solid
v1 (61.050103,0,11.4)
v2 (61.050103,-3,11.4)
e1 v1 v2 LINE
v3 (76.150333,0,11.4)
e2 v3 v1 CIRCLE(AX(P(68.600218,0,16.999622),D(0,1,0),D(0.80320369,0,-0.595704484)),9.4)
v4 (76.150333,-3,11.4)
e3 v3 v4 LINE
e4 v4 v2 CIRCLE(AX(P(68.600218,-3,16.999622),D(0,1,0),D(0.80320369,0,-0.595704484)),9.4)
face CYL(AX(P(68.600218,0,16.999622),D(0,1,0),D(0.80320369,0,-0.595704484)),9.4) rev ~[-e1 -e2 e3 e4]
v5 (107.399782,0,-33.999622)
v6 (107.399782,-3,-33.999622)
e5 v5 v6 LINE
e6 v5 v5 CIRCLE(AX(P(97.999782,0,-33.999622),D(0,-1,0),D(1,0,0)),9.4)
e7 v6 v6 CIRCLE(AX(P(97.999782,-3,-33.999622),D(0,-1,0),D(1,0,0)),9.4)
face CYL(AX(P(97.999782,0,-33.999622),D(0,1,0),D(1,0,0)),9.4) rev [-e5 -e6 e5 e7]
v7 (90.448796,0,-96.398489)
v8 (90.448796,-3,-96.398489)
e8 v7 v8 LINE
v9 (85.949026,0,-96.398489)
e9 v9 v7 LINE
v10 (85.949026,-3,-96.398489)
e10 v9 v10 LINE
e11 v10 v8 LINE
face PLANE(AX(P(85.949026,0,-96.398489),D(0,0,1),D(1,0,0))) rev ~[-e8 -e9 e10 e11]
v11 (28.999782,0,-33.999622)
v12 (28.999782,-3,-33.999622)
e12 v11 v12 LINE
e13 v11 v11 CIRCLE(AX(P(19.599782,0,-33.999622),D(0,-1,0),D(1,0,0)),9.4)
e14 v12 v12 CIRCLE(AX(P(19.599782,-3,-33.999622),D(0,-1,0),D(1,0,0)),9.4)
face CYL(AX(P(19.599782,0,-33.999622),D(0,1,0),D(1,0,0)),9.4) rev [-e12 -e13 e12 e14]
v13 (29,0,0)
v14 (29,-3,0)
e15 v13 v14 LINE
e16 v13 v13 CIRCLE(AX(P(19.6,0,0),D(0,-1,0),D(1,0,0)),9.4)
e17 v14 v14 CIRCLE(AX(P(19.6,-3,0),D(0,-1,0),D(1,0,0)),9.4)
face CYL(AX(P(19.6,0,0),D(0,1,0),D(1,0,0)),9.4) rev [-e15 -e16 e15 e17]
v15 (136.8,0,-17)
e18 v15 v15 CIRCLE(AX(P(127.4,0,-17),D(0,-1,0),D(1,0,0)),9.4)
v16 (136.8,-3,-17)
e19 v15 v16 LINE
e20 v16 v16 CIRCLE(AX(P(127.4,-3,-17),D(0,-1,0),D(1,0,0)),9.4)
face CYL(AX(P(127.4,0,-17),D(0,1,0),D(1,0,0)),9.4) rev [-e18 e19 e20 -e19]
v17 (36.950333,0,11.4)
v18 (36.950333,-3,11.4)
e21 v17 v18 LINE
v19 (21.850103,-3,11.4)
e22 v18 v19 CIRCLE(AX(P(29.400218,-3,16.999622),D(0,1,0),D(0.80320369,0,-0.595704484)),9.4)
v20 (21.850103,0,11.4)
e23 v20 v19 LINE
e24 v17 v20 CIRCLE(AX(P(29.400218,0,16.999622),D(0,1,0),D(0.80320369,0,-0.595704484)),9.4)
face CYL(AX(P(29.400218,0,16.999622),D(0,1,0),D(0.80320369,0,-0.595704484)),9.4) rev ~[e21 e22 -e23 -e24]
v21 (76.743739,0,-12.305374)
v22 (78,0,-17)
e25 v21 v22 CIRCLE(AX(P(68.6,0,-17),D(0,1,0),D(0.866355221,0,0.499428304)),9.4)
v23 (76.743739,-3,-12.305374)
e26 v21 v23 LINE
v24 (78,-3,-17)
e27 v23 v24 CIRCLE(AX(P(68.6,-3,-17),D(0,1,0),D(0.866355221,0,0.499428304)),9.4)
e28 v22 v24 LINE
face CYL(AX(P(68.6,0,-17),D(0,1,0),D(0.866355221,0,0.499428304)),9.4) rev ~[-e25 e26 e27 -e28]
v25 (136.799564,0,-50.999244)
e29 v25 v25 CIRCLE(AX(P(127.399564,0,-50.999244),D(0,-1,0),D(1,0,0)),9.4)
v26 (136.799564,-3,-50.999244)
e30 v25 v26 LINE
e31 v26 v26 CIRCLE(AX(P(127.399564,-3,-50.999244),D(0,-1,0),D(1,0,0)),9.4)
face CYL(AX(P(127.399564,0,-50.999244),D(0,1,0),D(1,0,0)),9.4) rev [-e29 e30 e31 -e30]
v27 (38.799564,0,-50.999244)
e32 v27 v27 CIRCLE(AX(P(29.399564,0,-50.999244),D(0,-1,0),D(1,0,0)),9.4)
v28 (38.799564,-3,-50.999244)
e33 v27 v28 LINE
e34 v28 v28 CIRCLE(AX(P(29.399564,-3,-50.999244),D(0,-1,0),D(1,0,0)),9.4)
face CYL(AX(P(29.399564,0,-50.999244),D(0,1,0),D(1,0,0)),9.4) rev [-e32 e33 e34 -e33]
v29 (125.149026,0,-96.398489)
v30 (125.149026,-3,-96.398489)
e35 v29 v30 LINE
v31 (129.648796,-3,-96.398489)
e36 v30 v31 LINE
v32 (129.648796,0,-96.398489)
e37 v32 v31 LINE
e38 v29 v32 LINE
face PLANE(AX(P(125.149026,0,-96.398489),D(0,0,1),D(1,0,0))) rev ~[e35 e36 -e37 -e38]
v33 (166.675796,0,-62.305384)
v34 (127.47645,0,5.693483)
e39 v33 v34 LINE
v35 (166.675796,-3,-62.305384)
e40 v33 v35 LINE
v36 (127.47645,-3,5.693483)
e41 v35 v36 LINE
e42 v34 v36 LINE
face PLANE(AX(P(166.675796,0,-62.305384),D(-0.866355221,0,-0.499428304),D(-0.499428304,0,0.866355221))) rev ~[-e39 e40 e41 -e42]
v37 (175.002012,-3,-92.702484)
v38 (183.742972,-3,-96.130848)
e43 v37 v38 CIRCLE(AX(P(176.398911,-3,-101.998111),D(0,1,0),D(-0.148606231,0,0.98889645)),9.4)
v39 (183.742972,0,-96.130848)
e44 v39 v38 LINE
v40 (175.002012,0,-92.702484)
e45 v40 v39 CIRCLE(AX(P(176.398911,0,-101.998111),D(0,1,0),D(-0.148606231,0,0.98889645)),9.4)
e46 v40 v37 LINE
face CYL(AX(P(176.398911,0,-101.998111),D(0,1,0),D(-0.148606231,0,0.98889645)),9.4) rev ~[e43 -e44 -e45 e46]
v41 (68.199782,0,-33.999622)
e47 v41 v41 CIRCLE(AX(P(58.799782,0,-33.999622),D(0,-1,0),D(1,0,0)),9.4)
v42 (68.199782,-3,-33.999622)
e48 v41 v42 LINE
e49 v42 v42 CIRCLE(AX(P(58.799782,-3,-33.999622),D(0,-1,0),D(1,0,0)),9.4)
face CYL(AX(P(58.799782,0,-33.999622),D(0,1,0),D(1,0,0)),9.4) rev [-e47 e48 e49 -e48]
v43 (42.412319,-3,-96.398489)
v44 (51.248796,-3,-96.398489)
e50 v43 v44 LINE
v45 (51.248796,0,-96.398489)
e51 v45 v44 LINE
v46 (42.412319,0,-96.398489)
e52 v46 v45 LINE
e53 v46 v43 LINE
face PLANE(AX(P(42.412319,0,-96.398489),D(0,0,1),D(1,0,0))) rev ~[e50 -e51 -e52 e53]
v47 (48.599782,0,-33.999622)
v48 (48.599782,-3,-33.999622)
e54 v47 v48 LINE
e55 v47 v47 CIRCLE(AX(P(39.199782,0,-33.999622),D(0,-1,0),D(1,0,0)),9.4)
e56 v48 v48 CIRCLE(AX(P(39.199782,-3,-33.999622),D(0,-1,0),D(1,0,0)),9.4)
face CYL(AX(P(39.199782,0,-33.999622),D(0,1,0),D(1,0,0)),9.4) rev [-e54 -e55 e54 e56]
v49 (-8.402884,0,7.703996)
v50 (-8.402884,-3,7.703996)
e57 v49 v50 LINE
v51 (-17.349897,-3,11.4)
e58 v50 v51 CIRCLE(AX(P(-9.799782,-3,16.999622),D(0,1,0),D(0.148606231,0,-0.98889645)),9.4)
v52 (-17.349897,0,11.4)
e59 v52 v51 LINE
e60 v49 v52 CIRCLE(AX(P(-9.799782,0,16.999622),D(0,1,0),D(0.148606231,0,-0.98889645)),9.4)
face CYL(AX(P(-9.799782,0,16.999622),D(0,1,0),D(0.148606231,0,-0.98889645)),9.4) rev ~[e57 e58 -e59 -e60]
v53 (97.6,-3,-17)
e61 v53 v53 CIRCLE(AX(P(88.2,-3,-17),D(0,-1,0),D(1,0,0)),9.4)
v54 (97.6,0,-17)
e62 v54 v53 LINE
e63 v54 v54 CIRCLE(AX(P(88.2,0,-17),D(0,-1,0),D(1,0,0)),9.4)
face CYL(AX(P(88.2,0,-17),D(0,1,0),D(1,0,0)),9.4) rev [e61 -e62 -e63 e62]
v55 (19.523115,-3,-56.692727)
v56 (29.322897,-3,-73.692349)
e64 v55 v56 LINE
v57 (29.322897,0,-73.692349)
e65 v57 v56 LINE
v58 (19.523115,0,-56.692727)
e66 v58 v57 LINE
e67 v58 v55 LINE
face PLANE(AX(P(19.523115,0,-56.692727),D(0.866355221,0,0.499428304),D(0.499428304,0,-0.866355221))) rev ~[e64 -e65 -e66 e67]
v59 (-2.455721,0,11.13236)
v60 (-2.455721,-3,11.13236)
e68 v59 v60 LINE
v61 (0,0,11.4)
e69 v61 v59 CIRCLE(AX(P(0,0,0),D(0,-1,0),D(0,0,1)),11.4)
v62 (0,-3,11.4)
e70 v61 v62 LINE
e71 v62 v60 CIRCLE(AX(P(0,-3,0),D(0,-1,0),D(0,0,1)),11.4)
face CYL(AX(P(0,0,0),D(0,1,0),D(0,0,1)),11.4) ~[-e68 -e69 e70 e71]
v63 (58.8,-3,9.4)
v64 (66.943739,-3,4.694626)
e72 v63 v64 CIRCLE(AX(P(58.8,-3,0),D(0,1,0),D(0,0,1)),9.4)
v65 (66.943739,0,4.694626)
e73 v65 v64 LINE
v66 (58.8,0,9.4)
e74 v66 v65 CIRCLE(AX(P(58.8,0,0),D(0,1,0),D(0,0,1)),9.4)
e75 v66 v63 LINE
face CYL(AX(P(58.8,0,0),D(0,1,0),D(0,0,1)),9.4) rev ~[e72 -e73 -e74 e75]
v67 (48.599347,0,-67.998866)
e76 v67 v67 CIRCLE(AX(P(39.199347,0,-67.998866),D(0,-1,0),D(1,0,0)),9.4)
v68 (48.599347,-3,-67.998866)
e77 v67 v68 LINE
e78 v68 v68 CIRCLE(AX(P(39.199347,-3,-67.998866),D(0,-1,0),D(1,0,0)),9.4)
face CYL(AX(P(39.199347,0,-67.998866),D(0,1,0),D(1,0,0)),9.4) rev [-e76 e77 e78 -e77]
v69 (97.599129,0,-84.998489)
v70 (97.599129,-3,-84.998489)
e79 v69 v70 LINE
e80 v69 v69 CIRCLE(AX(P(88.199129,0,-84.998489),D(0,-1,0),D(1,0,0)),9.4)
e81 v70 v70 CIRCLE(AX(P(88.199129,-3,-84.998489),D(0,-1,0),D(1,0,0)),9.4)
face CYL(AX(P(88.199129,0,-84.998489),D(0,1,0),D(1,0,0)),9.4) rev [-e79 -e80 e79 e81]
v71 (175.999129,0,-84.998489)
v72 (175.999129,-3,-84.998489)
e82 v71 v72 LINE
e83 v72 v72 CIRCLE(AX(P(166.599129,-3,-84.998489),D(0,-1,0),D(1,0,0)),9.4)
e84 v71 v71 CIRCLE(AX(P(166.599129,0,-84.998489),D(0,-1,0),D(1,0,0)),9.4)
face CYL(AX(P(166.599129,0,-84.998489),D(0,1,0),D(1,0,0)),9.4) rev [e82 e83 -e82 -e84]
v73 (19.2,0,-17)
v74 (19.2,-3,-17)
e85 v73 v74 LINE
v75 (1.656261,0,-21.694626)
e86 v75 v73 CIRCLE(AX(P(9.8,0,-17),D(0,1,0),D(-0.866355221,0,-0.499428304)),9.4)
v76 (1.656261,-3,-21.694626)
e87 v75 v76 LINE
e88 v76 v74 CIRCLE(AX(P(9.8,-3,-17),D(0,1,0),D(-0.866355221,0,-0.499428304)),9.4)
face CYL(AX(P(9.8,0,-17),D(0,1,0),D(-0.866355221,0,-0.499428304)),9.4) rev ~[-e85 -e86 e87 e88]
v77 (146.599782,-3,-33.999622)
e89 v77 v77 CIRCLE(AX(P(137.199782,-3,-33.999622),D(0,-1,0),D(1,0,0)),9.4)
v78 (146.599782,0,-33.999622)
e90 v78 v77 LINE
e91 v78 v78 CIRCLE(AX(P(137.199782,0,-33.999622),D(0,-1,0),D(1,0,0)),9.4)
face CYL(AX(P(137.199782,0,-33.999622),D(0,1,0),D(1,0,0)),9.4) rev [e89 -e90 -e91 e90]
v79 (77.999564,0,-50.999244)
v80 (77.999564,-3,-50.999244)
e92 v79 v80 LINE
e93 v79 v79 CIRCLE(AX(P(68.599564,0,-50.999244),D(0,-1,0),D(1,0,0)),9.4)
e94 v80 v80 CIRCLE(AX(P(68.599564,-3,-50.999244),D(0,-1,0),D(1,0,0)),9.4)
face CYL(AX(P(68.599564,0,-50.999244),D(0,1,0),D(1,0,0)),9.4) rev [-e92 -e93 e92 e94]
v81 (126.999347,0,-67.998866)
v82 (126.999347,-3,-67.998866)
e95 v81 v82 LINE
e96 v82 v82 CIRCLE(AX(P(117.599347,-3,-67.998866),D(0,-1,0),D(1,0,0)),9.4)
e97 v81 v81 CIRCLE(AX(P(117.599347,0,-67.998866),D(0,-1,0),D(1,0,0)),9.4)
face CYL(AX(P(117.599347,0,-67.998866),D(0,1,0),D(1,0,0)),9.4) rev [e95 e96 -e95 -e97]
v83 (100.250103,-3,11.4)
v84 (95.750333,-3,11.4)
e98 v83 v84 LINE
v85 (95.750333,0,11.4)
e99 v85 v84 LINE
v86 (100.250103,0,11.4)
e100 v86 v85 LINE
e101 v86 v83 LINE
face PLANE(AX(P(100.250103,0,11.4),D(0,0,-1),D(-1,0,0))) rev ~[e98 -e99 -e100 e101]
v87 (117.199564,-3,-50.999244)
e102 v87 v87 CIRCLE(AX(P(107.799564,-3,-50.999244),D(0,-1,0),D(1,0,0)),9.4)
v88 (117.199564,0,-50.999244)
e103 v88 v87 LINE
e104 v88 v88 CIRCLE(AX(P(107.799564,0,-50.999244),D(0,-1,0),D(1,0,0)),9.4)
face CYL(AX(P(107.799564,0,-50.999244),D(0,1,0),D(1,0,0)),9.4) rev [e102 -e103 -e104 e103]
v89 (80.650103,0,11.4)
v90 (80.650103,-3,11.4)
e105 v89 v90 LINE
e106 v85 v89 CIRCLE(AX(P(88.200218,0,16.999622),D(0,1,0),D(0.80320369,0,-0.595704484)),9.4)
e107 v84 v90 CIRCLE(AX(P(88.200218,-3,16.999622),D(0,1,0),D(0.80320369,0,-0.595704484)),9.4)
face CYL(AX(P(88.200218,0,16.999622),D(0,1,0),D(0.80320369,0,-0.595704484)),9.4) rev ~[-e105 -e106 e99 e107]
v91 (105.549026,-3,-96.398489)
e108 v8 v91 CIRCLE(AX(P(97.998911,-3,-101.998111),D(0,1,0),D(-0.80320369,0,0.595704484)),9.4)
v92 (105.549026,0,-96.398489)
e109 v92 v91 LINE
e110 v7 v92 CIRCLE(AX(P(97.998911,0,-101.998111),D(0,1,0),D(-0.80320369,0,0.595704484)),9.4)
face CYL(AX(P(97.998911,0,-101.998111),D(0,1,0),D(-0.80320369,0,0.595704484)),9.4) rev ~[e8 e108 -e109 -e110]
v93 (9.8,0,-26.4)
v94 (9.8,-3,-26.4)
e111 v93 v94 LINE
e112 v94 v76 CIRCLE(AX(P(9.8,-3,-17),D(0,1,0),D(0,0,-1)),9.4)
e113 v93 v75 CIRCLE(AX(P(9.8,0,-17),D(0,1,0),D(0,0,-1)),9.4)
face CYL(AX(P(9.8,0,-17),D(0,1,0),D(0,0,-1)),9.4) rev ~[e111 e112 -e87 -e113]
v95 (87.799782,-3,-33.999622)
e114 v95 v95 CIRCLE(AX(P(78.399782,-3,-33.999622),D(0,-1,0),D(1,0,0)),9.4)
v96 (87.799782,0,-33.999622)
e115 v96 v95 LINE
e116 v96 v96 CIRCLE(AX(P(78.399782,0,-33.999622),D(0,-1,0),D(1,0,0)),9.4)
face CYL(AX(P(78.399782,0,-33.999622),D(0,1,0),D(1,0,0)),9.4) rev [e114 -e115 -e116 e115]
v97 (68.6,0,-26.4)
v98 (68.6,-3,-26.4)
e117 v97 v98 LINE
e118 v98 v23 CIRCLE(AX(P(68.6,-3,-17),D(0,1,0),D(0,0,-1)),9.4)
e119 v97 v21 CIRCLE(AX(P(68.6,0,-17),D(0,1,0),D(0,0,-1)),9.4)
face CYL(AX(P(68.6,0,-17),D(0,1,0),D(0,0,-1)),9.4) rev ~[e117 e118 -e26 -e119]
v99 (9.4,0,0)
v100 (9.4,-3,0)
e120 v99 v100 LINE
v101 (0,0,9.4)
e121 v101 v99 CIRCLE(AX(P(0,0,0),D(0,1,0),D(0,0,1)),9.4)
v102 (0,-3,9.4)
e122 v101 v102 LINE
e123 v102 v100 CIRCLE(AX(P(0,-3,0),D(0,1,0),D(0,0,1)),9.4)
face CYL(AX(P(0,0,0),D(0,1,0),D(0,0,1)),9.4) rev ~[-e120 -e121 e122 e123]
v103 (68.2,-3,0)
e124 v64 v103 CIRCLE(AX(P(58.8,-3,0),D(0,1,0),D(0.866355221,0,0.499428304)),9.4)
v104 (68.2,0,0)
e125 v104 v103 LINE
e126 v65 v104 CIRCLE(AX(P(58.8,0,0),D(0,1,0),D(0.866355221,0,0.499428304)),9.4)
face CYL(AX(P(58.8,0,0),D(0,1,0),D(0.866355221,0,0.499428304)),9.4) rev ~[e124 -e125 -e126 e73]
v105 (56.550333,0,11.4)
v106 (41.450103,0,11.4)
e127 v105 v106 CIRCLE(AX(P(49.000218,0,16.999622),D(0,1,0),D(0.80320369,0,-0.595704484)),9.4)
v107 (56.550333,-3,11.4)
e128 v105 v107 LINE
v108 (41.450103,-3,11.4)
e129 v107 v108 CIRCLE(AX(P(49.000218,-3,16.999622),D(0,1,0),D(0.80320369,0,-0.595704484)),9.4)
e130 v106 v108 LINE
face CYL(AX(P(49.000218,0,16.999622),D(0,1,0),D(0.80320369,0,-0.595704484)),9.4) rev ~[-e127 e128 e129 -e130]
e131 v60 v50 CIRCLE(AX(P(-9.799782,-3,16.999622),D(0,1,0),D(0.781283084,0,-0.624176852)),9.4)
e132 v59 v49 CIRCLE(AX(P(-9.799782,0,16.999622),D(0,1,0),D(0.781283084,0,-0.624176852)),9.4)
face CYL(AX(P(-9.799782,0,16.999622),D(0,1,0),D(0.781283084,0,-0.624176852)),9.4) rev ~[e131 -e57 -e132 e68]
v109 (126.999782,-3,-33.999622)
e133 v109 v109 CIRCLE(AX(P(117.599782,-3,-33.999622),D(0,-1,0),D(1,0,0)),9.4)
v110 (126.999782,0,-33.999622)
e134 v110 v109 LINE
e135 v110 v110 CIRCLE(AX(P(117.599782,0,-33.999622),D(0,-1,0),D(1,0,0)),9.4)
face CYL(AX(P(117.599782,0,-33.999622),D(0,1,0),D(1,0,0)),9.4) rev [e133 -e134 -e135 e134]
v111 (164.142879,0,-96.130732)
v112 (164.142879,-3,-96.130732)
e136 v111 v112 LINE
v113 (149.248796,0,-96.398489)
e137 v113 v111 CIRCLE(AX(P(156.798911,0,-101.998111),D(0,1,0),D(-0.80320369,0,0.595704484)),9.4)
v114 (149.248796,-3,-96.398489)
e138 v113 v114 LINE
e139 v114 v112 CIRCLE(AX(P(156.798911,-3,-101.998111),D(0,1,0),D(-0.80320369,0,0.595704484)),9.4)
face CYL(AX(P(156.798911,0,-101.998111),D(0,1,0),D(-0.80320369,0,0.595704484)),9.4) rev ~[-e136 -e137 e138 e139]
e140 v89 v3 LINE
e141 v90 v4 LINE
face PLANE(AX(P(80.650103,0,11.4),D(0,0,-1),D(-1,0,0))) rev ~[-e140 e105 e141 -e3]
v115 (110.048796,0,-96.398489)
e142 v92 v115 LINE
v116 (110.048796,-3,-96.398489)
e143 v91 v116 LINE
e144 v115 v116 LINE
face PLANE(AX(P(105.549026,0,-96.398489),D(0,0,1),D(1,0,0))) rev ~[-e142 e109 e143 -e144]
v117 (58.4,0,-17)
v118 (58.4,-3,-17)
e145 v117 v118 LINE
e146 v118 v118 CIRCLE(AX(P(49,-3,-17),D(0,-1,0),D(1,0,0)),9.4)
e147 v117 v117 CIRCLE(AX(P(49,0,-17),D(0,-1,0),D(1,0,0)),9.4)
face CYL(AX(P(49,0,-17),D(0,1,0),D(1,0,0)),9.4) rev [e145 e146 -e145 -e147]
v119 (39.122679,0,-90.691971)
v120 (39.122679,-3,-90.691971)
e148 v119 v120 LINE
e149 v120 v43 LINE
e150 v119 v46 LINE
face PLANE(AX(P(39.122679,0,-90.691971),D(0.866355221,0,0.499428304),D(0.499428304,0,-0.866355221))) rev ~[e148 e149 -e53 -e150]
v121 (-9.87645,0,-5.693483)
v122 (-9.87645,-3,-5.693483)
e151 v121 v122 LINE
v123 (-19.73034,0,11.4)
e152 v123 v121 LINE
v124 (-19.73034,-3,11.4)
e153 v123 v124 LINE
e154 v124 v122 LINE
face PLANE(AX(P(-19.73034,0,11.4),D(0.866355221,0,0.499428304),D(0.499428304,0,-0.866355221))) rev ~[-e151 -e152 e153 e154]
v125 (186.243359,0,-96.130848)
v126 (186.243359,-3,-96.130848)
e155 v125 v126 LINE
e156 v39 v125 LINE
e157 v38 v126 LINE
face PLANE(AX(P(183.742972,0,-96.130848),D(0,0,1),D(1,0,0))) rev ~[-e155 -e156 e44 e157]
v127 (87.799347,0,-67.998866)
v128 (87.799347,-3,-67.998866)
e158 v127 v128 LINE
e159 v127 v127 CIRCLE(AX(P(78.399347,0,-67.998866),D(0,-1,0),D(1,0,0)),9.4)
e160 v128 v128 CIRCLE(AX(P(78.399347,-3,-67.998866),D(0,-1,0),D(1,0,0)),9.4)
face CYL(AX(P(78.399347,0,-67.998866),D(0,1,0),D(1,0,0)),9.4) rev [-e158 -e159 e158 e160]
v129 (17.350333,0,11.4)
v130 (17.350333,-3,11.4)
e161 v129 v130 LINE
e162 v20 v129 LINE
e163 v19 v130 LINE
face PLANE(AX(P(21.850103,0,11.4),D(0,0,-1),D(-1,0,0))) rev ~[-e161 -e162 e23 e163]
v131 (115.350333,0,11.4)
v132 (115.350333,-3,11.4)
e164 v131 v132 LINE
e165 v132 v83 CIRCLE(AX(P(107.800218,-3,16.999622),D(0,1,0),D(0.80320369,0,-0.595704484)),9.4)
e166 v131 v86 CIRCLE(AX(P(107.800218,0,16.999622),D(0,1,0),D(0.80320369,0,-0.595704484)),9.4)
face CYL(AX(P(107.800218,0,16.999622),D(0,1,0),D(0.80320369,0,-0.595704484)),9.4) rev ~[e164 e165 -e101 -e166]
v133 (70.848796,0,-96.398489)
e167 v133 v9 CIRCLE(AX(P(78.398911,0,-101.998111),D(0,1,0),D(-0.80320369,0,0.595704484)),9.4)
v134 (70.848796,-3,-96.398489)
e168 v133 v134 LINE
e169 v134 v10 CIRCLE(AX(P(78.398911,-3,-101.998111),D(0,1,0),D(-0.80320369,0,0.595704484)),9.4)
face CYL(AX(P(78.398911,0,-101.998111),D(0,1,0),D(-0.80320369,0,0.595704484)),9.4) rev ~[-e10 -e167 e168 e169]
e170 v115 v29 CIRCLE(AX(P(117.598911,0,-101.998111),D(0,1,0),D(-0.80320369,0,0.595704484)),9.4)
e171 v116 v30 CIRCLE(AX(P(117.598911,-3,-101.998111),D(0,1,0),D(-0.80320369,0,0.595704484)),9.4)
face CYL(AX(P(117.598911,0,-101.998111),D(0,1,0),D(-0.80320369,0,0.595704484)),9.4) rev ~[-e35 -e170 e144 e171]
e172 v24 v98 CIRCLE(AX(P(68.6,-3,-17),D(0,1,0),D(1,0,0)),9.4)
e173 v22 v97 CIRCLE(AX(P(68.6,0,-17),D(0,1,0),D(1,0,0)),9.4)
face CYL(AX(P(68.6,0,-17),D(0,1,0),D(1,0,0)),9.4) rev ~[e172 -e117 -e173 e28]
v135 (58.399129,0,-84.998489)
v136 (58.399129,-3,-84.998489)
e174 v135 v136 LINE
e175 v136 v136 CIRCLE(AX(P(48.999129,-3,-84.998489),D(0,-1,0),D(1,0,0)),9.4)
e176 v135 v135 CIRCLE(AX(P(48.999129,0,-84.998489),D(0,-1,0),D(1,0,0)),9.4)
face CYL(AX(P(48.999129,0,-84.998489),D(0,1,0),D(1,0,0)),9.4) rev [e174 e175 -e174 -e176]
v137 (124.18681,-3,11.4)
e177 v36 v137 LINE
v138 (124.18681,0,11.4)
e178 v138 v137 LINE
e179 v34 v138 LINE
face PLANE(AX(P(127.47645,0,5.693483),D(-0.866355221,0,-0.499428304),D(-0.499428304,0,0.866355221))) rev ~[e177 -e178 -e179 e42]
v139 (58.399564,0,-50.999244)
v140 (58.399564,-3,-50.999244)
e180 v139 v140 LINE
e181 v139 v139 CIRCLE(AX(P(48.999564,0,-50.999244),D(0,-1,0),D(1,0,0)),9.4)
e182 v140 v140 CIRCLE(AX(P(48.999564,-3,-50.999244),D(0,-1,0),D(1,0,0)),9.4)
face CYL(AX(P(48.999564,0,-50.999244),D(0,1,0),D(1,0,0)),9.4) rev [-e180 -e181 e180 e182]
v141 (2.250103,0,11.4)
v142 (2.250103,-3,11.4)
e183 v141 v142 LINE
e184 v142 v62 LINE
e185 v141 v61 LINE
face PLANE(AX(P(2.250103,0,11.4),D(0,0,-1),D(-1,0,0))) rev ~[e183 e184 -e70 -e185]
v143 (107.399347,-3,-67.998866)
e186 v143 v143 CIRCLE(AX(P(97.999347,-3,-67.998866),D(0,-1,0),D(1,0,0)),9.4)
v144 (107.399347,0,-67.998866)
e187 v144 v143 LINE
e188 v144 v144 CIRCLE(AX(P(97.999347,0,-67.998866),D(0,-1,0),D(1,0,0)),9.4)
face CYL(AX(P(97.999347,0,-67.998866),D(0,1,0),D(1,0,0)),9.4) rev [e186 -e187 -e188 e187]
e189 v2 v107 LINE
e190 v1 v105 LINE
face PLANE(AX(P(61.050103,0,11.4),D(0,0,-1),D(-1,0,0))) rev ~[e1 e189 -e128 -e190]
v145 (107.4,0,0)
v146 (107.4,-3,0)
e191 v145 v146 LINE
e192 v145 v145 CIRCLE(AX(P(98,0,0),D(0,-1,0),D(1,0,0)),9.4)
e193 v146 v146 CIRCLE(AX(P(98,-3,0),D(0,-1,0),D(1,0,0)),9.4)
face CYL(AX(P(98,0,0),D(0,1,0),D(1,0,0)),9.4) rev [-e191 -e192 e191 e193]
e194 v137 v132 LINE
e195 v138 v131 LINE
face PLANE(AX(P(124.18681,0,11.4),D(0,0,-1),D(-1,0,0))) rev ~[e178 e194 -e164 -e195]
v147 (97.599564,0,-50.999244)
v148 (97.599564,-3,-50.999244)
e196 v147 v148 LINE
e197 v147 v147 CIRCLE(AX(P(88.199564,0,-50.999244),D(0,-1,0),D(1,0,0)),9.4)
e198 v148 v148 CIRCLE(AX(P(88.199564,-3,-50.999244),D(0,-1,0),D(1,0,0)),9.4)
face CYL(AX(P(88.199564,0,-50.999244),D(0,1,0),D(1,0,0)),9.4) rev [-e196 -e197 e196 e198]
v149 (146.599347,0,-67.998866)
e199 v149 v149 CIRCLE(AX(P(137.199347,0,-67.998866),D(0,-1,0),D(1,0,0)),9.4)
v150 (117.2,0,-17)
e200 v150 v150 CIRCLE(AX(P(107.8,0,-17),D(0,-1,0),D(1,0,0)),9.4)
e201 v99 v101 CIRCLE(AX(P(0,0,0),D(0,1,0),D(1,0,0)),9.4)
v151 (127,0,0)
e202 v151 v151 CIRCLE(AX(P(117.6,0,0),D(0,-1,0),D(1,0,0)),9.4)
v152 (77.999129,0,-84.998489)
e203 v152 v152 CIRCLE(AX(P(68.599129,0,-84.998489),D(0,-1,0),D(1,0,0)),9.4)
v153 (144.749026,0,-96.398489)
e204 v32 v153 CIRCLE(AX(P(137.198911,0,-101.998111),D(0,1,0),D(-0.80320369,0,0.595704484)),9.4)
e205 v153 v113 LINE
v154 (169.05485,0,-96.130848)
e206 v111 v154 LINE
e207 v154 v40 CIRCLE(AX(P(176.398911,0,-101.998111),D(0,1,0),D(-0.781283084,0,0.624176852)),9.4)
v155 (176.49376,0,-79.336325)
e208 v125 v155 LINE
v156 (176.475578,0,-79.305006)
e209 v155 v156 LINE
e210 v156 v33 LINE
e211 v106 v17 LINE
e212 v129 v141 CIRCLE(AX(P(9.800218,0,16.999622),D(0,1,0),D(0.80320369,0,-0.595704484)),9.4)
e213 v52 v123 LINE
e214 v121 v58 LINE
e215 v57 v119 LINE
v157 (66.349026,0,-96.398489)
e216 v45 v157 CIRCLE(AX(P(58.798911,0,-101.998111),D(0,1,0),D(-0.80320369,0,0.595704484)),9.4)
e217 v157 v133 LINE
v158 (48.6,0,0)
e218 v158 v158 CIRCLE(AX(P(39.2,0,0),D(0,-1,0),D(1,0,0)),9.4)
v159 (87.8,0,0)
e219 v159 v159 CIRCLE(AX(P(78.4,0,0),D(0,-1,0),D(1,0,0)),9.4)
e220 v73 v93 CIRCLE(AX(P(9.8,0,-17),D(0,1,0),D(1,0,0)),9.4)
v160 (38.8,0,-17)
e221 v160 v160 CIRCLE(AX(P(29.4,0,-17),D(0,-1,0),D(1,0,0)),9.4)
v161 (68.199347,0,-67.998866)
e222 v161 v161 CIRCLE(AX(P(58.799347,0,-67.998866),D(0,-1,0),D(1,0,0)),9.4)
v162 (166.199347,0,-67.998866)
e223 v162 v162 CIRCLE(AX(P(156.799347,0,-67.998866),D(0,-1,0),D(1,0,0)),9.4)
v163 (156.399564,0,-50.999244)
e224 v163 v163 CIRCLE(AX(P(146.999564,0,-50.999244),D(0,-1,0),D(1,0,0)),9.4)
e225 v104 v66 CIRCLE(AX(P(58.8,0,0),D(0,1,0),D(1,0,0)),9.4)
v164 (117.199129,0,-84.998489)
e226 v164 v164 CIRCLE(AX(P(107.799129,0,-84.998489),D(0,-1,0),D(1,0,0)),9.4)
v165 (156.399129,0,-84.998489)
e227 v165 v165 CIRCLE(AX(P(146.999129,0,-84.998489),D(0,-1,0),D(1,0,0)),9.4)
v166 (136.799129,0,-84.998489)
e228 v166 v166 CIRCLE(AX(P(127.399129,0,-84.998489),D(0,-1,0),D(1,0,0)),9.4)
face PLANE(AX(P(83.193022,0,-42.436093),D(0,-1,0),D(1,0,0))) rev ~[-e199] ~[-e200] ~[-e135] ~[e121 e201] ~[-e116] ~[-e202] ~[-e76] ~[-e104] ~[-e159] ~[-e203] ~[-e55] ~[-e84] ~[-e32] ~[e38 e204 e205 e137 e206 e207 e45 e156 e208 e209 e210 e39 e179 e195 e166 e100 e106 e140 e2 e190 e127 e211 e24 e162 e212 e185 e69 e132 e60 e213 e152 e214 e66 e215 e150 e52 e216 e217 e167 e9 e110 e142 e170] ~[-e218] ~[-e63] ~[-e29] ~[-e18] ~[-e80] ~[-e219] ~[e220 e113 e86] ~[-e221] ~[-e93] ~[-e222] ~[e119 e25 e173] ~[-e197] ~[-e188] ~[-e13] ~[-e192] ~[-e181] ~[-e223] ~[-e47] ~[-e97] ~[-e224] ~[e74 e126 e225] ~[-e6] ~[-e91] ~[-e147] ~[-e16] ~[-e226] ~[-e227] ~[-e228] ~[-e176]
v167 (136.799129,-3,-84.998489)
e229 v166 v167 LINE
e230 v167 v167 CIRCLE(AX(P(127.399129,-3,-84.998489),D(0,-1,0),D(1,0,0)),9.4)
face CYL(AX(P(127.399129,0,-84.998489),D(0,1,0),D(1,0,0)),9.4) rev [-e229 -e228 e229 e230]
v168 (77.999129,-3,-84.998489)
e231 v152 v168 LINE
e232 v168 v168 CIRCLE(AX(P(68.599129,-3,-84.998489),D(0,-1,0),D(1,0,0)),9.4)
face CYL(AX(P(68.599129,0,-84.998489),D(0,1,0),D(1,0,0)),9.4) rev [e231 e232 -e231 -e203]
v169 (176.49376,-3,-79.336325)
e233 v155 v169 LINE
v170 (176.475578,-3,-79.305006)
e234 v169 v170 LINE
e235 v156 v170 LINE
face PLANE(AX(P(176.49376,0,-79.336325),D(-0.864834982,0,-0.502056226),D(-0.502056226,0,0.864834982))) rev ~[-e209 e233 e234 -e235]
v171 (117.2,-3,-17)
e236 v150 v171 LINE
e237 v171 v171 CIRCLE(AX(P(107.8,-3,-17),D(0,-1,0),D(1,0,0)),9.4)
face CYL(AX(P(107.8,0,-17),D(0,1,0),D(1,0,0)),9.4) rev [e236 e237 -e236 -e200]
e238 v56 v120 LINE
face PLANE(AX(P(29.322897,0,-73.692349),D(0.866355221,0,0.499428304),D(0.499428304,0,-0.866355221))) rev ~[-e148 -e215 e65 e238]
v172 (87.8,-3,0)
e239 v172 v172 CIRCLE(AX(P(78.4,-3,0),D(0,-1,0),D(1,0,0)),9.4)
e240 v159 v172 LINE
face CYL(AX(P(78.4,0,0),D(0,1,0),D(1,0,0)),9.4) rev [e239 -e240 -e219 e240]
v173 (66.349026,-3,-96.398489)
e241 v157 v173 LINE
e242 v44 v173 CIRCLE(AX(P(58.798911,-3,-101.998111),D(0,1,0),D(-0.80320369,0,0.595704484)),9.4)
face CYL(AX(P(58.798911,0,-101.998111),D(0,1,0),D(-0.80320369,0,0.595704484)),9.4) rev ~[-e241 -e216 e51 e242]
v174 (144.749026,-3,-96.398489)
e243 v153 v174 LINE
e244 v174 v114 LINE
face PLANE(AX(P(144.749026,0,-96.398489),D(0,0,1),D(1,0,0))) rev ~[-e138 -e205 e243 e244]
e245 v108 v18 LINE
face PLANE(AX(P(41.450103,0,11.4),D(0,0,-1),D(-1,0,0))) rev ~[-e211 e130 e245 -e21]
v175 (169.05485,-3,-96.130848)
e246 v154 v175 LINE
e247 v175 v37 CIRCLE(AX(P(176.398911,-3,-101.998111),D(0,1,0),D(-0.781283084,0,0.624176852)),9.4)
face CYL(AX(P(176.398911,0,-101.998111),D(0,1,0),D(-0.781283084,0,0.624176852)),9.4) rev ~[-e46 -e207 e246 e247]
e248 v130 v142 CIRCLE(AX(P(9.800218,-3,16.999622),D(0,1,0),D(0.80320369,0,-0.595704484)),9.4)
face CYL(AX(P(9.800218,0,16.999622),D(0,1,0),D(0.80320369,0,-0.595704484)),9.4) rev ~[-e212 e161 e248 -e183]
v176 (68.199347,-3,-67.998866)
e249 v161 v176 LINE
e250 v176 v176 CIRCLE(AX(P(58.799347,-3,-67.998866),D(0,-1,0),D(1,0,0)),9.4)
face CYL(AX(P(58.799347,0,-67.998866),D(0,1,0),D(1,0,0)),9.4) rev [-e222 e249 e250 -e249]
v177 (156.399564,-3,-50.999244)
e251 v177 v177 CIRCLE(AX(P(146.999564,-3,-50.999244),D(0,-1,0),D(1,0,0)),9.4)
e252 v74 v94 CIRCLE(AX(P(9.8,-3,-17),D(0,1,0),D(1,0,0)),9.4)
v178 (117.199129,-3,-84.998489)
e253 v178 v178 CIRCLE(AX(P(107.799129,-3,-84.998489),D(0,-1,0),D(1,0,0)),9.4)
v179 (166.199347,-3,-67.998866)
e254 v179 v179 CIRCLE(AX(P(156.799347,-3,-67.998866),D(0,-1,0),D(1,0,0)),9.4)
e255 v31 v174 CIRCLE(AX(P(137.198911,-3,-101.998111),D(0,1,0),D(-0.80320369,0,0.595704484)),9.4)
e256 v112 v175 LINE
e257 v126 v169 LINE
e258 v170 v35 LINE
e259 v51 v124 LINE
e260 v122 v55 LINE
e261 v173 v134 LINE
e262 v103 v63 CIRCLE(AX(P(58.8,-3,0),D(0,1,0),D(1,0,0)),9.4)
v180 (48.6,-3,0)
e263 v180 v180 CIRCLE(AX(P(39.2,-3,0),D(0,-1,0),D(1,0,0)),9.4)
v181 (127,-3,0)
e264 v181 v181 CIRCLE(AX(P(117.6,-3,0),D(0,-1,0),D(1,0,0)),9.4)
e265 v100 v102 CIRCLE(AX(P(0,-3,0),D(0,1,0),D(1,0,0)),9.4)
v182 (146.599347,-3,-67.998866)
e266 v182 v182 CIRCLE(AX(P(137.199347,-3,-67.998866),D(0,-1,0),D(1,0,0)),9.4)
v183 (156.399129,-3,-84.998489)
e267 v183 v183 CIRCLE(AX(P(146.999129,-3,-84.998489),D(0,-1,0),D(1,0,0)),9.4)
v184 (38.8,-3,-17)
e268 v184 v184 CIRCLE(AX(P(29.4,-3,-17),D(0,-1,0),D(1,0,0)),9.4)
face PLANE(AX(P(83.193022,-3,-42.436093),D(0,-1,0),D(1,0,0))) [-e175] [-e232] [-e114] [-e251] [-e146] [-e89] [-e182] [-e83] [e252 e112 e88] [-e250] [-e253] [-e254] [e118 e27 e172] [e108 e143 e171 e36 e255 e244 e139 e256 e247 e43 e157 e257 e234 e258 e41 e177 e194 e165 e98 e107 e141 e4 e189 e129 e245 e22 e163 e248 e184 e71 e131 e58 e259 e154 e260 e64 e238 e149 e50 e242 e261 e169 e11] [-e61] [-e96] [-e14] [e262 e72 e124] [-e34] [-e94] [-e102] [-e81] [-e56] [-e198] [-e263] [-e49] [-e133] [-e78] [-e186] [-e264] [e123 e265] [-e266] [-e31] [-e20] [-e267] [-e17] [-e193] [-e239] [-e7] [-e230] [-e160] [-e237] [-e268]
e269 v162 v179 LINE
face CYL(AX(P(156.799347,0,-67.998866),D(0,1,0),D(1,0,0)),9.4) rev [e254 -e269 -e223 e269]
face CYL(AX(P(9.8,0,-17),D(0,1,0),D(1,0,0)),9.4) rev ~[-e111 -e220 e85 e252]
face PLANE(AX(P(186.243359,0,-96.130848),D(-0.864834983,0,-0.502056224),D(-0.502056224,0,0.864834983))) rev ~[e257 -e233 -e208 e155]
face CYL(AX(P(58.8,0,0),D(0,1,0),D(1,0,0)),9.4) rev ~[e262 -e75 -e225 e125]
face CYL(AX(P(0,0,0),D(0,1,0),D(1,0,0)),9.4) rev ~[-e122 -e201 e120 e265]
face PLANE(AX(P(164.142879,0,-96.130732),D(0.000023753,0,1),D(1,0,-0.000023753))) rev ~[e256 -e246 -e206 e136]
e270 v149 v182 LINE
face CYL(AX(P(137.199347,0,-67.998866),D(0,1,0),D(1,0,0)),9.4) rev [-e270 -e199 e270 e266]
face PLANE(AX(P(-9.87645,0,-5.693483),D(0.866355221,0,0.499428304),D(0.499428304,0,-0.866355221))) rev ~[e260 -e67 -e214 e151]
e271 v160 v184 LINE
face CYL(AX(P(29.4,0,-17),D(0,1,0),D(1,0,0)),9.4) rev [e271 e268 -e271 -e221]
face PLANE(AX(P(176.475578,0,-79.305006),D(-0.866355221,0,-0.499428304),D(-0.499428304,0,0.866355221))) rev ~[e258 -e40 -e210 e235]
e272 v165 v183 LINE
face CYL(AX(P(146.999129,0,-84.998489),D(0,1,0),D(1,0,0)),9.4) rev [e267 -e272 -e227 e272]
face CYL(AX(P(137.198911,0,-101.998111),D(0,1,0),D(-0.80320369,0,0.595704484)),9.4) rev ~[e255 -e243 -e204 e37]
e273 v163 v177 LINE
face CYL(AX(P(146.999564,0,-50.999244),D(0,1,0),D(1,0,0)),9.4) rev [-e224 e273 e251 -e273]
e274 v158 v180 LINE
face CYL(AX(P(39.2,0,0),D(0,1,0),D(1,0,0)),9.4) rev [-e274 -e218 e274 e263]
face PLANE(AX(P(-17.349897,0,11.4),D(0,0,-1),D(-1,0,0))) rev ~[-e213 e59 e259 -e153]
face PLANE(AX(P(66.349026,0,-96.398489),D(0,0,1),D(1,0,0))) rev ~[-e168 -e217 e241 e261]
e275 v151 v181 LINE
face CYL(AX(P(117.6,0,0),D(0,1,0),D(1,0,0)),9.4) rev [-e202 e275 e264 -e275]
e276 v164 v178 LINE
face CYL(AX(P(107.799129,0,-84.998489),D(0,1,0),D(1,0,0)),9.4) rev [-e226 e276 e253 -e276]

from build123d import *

# Parameters (mm, degrees)
F0_R     = 9.4
F1_DEPTH = 3


with BuildPart() as f1:
    # F0 (on Front) → F1 (new body)
    with BuildSketch(Plane.XZ):
        with BuildLine():
            Line((2.2501031329, 11.4), (0, 11.4))
            ThreePointArc((0, 11.4), (-1.2351313555, 11.332892417), (-2.4557211882, 11.1323597429))
            ThreePointArc((-2.4557211882, 11.1323597429), (-5.105156123, 8.8558830706), (-8.4028836117, 7.7039955223))
            ThreePointArc((-8.4028836117, 7.7039955223), (-13.3887415593, 8.3117357219), (-17.3498968671, 11.4))
            Line((-17.3498968671, 11.4), (-19.730339528, 11.4))
            Line((-19.730339528, 11.4), (-9.8764495211, -5.6934826651))
            Line((-9.8764495211, -5.6934826651), (-0.0764495211, -22.6934826651))
            Line((-0.0764495211, -22.6934826651), (19.5231148393, -56.6927269638))
            Line((19.5231148393, -56.6927269638), (29.3228970196, -73.6923491131))
            Line((29.3228970196, -73.6923491131), (39.1226791998, -90.6919712625))
            Line((39.1226791998, -90.6919712625), (42.4123186046, -96.3984885974))
            Line((42.4123186046, -96.3984885974), (48.8689445474, -96.3984885974))
            ThreePointArc((48.8689445474, -96.3984885974), (48.8691528124, -96.3981192912), (48.8693610912, -96.3977499928))
            ThreePointArc((48.8693610912, -96.3977499928), (48.934243855, -96.3983039447), (48.9991287208, -96.3984885974))
            Line((48.9991287208, -96.3984885974), (51.2487962142, -96.3984885974))
            ThreePointArc((51.2487962142, -96.3984885974), (58.798910901, -92.5981107467), (66.3490255879, -96.3984885974))
            Line((66.3490255879, -96.3984885974), (70.8487962142, -96.3984885974))
            ThreePointArc((70.8487962142, -96.3984885974), (78.398910901, -92.5981107467), (85.9490255879, -96.3984885974))
            Line((85.9490255879, -96.3984885974), (90.4487962142, -96.3984885974))
            ThreePointArc((90.4487962142, -96.3984885974), (97.998910901, -92.5981107467), (105.5490255879, -96.3984885974))
            Line((105.5490255879, -96.3984885974), (110.0487962142, -96.3984885974))
            ThreePointArc((110.0487962142, -96.3984885974), (117.598910901, -92.5981107467), (125.1490255879, -96.3984885974))
            Line((125.1490255879, -96.3984885974), (129.6487962142, -96.3984885974))
            ThreePointArc((129.6487962142, -96.3984885974), (137.198910901, -92.5981107467), (144.7490255879, -96.3984885974))
            Line((144.7490255879, -96.3984885974), (149.2487962142, -96.3984885974))
            ThreePointArc((149.2487962142, -96.3984885974), (156.6299506079, -92.5996293577), (164.1428786787, -96.1307316656))
            Line((164.1428786787, -96.1307316656), (169.0548499091, -96.1308483403))
            ThreePointArc((169.0548499091, -96.1308483403), (171.7042848439, -93.8543716679), (175.0020123326, -92.7024841197))
            ThreePointArc((175.0020123326, -92.7024841197), (179.8311995734, -93.2471454017), (183.742971893, -96.1308483403))
            Line((183.742971893, -96.1308483403), (186.2433594731, -96.1308483403))
            Line((186.2433594731, -96.1308483403), (176.4937597269, -79.3363251022))
            Line((176.4937597269, -79.3363251022), (176.4755782419, -79.3050059323))
            Line((176.4755782419, -79.3050059323), (166.6757960617, -62.3053837829))
            Line((166.6757960617, -62.3053837829), (127.4764495211, 5.6934826651))
            Line((127.4764495211, 5.6934826651), (124.1868101162, 11.4))
            Line((124.1868101162, 11.4), (117.6, 11.4))
            Line((117.6, 11.4), (115.3503325066, 11.4))
            ThreePointArc((115.3503325066, 11.4), (107.8002178198, 7.5996221493), (100.2501031329, 11.4))
            Line((100.2501031329, 11.4), (98, 11.4))
            Line((98, 11.4), (95.7503325066, 11.4))
            ThreePointArc((95.7503325066, 11.4), (88.2002178198, 7.5996221493), (80.6501031329, 11.4))
            Line((80.6501031329, 11.4), (76.1503325066, 11.4))
            ThreePointArc((76.1503325066, 11.4), (68.6002178198, 7.5996221493), (61.0501031329, 11.4))
            Line((61.0501031329, 11.4), (58.8, 11.4))
            Line((58.8, 11.4), (56.5503325066, 11.4))
            ThreePointArc((56.5503325066, 11.4), (49.0002178198, 7.5996221493), (41.4501031329, 11.4))
            Line((41.4501031329, 11.4), (36.9503325066, 11.4))
            ThreePointArc((36.9503325066, 11.4), (29.4002178198, 7.5996221493), (21.8501031329, 11.4))
            Line((21.8501031329, 11.4), (17.3503325066, 11.4))
            ThreePointArc((17.3503325066, 11.4), (9.8002178198, 7.5996221493), (2.2501031329, 11.4))
        make_face()
        with Locations((48.9991287208, -84.9984885974)):
            Circle(F0_R, mode=Mode.SUBTRACT)
        with Locations((68.5991287208, -84.9984885974)):
            Circle(F0_R, mode=Mode.SUBTRACT)
        with Locations((29.3995643604, -50.9992442987)):
            Circle(F0_R, mode=Mode.SUBTRACT)
        with Locations((39.1993465406, -67.998866448)):
            Circle(F0_R, mode=Mode.SUBTRACT)
        with Locations((58.7993465406, -67.998866448)):
            Circle(F0_R, mode=Mode.SUBTRACT)
        with Locations((78.3993465406, -67.998866448)):
            Circle(F0_R, mode=Mode.SUBTRACT)
        with Locations((48.9995643604, -50.9992442987)):
            Circle(F0_R, mode=Mode.SUBTRACT)
        with Locations((68.5995643604, -50.9992442987)):
            Circle(F0_R, mode=Mode.SUBTRACT)
        with Locations((88.1991287208, -84.9984885974)):
            Circle(F0_R, mode=Mode.SUBTRACT)
        with Locations((107.7991287208, -84.9984885974)):
            Circle(F0_R, mode=Mode.SUBTRACT)
        with Locations((127.3991287208, -84.9984885974)):
            Circle(F0_R, mode=Mode.SUBTRACT)
        with Locations((146.9991287208, -84.9984885974)):
            Circle(F0_R, mode=Mode.SUBTRACT)
        with Locations((166.5991287208, -84.9984885974)):
            Circle(F0_R, mode=Mode.SUBTRACT)
        with Locations((97.9993465406, -67.998866448)):
            Circle(F0_R, mode=Mode.SUBTRACT)
        with Locations((117.5993465406, -67.998866448)):
            Circle(F0_R, mode=Mode.SUBTRACT)
        with Locations((88.1995643604, -50.9992442987)):
            Circle(F0_R, mode=Mode.SUBTRACT)
        with Locations((107.7995643604, -50.9992442987)):
            Circle(F0_R, mode=Mode.SUBTRACT)
        with Locations((127.3995643604, -50.9992442987)):
            Circle(F0_R, mode=Mode.SUBTRACT)
        with Locations((137.1993465406, -67.998866448)):
            Circle(F0_R, mode=Mode.SUBTRACT)
        with Locations((156.7993465406, -67.998866448)):
            Circle(F0_R, mode=Mode.SUBTRACT)
        with Locations((146.9995643604, -50.9992442987)):
            Circle(F0_R, mode=Mode.SUBTRACT)
        with Locations((19.5997821802, -33.9996221493)):
            Circle(F0_R, mode=Mode.SUBTRACT)
        with BuildLine():
            ThreePointArc((1.6562609212, -21.6946260572), (7.370097465, -7.919494856), (19.2, -17))
            ThreePointArc((19.2, -17), (16.4468037432, -23.6468037432), (9.8, -26.4))
            ThreePointArc((9.8, -26.4), (5.0973137962, -25.1390873241), (1.6562609212, -21.6946260572))
        make_face(mode=Mode.SUBTRACT)
        with Locations((29.4, -17)):
            Circle(F0_R, mode=Mode.SUBTRACT)
        with Locations((39.1997821802, -33.9996221493)):
            Circle(F0_R, mode=Mode.SUBTRACT)
        with Locations((58.7997821802, -33.9996221493)):
            Circle(F0_R, mode=Mode.SUBTRACT)
        with Locations((78.3997821802, -33.9996221493)):
            Circle(F0_R, mode=Mode.SUBTRACT)
        with Locations((49, -17)):
            Circle(F0_R, mode=Mode.SUBTRACT)
        with BuildLine():
            ThreePointArc((76.7437390788, -12.3053739428), (77.680505144, -14.570097465), (78, -17))
            ThreePointArc((78, -17), (75.2468037432, -23.6468037432), (68.6, -26.4))
            ThreePointArc((68.6, -26.4), (60.4609126759, -12.2973137962), (76.7437390788, -12.3053739428))
        make_face(mode=Mode.SUBTRACT)
        with BuildLine():
            ThreePointArc((0, 9.4), (6.6468037432, 6.6468037432), (9.4, 0))
            ThreePointArc((9.4, 0), (2.429902535, -9.080505144), (-8.1437390788, -4.6946260572))
            ThreePointArc((-8.1437390788, -4.6946260572), (-8.1390873241, 4.7026862038), (0, 9.4))
        make_face(mode=Mode.SUBTRACT)
        with Locations((19.6, 0)):
            Circle(F0_R, mode=Mode.SUBTRACT)
        with Locations((39.2, 0)):
            Circle(F0_R, mode=Mode.SUBTRACT)
        with BuildLine():
            ThreePointArc((66.9437390788, 4.6946260572), (67.880505144, 2.429902535), (68.2, 0))
            ThreePointArc((68.2, 0), (52.1531962568, -6.6468037432), (58.8, 9.4))
            ThreePointArc((58.8, 9.4), (63.5026862038, 8.1390873241), (66.9437390788, 4.6946260572))
        make_face(mode=Mode.SUBTRACT)
        with Locations((78.4, 0)):
            Circle(F0_R, mode=Mode.SUBTRACT)
        with Locations((97.9997821802, -33.9996221493)):
            Circle(F0_R, mode=Mode.SUBTRACT)
        with Locations((117.5997821802, -33.9996221493)):
            Circle(F0_R, mode=Mode.SUBTRACT)
        with Locations((88.2, -17)):
            Circle(F0_R, mode=Mode.SUBTRACT)
        with Locations((107.8, -17)):
            Circle(F0_R, mode=Mode.SUBTRACT)
        with Locations((127.4, -17)):
            Circle(F0_R, mode=Mode.SUBTRACT)
        with Locations((137.1997821802, -33.9996221493)):
            Circle(F0_R, mode=Mode.SUBTRACT)
        with Locations((98, 0)):
            Circle(F0_R, mode=Mode.SUBTRACT)
        with Locations((117.6, 0)):
            Circle(F0_R, mode=Mode.SUBTRACT)
        with BuildLine():
            ThreePointArc((48.8693610912, -96.3977499928), (48.8691528124, -96.3981192912), (48.8689445474, -96.3984885974))
            Line((48.8689445474, -96.3984885974), (48.9991287208, -96.3984885974))
            ThreePointArc((48.9991287208, -96.3984885974), (48.934243855, -96.3983039447), (48.8693610912, -96.3977499928))
        make_face()
    extrude(amount=F1_DEPTH)


solid = f1.part
